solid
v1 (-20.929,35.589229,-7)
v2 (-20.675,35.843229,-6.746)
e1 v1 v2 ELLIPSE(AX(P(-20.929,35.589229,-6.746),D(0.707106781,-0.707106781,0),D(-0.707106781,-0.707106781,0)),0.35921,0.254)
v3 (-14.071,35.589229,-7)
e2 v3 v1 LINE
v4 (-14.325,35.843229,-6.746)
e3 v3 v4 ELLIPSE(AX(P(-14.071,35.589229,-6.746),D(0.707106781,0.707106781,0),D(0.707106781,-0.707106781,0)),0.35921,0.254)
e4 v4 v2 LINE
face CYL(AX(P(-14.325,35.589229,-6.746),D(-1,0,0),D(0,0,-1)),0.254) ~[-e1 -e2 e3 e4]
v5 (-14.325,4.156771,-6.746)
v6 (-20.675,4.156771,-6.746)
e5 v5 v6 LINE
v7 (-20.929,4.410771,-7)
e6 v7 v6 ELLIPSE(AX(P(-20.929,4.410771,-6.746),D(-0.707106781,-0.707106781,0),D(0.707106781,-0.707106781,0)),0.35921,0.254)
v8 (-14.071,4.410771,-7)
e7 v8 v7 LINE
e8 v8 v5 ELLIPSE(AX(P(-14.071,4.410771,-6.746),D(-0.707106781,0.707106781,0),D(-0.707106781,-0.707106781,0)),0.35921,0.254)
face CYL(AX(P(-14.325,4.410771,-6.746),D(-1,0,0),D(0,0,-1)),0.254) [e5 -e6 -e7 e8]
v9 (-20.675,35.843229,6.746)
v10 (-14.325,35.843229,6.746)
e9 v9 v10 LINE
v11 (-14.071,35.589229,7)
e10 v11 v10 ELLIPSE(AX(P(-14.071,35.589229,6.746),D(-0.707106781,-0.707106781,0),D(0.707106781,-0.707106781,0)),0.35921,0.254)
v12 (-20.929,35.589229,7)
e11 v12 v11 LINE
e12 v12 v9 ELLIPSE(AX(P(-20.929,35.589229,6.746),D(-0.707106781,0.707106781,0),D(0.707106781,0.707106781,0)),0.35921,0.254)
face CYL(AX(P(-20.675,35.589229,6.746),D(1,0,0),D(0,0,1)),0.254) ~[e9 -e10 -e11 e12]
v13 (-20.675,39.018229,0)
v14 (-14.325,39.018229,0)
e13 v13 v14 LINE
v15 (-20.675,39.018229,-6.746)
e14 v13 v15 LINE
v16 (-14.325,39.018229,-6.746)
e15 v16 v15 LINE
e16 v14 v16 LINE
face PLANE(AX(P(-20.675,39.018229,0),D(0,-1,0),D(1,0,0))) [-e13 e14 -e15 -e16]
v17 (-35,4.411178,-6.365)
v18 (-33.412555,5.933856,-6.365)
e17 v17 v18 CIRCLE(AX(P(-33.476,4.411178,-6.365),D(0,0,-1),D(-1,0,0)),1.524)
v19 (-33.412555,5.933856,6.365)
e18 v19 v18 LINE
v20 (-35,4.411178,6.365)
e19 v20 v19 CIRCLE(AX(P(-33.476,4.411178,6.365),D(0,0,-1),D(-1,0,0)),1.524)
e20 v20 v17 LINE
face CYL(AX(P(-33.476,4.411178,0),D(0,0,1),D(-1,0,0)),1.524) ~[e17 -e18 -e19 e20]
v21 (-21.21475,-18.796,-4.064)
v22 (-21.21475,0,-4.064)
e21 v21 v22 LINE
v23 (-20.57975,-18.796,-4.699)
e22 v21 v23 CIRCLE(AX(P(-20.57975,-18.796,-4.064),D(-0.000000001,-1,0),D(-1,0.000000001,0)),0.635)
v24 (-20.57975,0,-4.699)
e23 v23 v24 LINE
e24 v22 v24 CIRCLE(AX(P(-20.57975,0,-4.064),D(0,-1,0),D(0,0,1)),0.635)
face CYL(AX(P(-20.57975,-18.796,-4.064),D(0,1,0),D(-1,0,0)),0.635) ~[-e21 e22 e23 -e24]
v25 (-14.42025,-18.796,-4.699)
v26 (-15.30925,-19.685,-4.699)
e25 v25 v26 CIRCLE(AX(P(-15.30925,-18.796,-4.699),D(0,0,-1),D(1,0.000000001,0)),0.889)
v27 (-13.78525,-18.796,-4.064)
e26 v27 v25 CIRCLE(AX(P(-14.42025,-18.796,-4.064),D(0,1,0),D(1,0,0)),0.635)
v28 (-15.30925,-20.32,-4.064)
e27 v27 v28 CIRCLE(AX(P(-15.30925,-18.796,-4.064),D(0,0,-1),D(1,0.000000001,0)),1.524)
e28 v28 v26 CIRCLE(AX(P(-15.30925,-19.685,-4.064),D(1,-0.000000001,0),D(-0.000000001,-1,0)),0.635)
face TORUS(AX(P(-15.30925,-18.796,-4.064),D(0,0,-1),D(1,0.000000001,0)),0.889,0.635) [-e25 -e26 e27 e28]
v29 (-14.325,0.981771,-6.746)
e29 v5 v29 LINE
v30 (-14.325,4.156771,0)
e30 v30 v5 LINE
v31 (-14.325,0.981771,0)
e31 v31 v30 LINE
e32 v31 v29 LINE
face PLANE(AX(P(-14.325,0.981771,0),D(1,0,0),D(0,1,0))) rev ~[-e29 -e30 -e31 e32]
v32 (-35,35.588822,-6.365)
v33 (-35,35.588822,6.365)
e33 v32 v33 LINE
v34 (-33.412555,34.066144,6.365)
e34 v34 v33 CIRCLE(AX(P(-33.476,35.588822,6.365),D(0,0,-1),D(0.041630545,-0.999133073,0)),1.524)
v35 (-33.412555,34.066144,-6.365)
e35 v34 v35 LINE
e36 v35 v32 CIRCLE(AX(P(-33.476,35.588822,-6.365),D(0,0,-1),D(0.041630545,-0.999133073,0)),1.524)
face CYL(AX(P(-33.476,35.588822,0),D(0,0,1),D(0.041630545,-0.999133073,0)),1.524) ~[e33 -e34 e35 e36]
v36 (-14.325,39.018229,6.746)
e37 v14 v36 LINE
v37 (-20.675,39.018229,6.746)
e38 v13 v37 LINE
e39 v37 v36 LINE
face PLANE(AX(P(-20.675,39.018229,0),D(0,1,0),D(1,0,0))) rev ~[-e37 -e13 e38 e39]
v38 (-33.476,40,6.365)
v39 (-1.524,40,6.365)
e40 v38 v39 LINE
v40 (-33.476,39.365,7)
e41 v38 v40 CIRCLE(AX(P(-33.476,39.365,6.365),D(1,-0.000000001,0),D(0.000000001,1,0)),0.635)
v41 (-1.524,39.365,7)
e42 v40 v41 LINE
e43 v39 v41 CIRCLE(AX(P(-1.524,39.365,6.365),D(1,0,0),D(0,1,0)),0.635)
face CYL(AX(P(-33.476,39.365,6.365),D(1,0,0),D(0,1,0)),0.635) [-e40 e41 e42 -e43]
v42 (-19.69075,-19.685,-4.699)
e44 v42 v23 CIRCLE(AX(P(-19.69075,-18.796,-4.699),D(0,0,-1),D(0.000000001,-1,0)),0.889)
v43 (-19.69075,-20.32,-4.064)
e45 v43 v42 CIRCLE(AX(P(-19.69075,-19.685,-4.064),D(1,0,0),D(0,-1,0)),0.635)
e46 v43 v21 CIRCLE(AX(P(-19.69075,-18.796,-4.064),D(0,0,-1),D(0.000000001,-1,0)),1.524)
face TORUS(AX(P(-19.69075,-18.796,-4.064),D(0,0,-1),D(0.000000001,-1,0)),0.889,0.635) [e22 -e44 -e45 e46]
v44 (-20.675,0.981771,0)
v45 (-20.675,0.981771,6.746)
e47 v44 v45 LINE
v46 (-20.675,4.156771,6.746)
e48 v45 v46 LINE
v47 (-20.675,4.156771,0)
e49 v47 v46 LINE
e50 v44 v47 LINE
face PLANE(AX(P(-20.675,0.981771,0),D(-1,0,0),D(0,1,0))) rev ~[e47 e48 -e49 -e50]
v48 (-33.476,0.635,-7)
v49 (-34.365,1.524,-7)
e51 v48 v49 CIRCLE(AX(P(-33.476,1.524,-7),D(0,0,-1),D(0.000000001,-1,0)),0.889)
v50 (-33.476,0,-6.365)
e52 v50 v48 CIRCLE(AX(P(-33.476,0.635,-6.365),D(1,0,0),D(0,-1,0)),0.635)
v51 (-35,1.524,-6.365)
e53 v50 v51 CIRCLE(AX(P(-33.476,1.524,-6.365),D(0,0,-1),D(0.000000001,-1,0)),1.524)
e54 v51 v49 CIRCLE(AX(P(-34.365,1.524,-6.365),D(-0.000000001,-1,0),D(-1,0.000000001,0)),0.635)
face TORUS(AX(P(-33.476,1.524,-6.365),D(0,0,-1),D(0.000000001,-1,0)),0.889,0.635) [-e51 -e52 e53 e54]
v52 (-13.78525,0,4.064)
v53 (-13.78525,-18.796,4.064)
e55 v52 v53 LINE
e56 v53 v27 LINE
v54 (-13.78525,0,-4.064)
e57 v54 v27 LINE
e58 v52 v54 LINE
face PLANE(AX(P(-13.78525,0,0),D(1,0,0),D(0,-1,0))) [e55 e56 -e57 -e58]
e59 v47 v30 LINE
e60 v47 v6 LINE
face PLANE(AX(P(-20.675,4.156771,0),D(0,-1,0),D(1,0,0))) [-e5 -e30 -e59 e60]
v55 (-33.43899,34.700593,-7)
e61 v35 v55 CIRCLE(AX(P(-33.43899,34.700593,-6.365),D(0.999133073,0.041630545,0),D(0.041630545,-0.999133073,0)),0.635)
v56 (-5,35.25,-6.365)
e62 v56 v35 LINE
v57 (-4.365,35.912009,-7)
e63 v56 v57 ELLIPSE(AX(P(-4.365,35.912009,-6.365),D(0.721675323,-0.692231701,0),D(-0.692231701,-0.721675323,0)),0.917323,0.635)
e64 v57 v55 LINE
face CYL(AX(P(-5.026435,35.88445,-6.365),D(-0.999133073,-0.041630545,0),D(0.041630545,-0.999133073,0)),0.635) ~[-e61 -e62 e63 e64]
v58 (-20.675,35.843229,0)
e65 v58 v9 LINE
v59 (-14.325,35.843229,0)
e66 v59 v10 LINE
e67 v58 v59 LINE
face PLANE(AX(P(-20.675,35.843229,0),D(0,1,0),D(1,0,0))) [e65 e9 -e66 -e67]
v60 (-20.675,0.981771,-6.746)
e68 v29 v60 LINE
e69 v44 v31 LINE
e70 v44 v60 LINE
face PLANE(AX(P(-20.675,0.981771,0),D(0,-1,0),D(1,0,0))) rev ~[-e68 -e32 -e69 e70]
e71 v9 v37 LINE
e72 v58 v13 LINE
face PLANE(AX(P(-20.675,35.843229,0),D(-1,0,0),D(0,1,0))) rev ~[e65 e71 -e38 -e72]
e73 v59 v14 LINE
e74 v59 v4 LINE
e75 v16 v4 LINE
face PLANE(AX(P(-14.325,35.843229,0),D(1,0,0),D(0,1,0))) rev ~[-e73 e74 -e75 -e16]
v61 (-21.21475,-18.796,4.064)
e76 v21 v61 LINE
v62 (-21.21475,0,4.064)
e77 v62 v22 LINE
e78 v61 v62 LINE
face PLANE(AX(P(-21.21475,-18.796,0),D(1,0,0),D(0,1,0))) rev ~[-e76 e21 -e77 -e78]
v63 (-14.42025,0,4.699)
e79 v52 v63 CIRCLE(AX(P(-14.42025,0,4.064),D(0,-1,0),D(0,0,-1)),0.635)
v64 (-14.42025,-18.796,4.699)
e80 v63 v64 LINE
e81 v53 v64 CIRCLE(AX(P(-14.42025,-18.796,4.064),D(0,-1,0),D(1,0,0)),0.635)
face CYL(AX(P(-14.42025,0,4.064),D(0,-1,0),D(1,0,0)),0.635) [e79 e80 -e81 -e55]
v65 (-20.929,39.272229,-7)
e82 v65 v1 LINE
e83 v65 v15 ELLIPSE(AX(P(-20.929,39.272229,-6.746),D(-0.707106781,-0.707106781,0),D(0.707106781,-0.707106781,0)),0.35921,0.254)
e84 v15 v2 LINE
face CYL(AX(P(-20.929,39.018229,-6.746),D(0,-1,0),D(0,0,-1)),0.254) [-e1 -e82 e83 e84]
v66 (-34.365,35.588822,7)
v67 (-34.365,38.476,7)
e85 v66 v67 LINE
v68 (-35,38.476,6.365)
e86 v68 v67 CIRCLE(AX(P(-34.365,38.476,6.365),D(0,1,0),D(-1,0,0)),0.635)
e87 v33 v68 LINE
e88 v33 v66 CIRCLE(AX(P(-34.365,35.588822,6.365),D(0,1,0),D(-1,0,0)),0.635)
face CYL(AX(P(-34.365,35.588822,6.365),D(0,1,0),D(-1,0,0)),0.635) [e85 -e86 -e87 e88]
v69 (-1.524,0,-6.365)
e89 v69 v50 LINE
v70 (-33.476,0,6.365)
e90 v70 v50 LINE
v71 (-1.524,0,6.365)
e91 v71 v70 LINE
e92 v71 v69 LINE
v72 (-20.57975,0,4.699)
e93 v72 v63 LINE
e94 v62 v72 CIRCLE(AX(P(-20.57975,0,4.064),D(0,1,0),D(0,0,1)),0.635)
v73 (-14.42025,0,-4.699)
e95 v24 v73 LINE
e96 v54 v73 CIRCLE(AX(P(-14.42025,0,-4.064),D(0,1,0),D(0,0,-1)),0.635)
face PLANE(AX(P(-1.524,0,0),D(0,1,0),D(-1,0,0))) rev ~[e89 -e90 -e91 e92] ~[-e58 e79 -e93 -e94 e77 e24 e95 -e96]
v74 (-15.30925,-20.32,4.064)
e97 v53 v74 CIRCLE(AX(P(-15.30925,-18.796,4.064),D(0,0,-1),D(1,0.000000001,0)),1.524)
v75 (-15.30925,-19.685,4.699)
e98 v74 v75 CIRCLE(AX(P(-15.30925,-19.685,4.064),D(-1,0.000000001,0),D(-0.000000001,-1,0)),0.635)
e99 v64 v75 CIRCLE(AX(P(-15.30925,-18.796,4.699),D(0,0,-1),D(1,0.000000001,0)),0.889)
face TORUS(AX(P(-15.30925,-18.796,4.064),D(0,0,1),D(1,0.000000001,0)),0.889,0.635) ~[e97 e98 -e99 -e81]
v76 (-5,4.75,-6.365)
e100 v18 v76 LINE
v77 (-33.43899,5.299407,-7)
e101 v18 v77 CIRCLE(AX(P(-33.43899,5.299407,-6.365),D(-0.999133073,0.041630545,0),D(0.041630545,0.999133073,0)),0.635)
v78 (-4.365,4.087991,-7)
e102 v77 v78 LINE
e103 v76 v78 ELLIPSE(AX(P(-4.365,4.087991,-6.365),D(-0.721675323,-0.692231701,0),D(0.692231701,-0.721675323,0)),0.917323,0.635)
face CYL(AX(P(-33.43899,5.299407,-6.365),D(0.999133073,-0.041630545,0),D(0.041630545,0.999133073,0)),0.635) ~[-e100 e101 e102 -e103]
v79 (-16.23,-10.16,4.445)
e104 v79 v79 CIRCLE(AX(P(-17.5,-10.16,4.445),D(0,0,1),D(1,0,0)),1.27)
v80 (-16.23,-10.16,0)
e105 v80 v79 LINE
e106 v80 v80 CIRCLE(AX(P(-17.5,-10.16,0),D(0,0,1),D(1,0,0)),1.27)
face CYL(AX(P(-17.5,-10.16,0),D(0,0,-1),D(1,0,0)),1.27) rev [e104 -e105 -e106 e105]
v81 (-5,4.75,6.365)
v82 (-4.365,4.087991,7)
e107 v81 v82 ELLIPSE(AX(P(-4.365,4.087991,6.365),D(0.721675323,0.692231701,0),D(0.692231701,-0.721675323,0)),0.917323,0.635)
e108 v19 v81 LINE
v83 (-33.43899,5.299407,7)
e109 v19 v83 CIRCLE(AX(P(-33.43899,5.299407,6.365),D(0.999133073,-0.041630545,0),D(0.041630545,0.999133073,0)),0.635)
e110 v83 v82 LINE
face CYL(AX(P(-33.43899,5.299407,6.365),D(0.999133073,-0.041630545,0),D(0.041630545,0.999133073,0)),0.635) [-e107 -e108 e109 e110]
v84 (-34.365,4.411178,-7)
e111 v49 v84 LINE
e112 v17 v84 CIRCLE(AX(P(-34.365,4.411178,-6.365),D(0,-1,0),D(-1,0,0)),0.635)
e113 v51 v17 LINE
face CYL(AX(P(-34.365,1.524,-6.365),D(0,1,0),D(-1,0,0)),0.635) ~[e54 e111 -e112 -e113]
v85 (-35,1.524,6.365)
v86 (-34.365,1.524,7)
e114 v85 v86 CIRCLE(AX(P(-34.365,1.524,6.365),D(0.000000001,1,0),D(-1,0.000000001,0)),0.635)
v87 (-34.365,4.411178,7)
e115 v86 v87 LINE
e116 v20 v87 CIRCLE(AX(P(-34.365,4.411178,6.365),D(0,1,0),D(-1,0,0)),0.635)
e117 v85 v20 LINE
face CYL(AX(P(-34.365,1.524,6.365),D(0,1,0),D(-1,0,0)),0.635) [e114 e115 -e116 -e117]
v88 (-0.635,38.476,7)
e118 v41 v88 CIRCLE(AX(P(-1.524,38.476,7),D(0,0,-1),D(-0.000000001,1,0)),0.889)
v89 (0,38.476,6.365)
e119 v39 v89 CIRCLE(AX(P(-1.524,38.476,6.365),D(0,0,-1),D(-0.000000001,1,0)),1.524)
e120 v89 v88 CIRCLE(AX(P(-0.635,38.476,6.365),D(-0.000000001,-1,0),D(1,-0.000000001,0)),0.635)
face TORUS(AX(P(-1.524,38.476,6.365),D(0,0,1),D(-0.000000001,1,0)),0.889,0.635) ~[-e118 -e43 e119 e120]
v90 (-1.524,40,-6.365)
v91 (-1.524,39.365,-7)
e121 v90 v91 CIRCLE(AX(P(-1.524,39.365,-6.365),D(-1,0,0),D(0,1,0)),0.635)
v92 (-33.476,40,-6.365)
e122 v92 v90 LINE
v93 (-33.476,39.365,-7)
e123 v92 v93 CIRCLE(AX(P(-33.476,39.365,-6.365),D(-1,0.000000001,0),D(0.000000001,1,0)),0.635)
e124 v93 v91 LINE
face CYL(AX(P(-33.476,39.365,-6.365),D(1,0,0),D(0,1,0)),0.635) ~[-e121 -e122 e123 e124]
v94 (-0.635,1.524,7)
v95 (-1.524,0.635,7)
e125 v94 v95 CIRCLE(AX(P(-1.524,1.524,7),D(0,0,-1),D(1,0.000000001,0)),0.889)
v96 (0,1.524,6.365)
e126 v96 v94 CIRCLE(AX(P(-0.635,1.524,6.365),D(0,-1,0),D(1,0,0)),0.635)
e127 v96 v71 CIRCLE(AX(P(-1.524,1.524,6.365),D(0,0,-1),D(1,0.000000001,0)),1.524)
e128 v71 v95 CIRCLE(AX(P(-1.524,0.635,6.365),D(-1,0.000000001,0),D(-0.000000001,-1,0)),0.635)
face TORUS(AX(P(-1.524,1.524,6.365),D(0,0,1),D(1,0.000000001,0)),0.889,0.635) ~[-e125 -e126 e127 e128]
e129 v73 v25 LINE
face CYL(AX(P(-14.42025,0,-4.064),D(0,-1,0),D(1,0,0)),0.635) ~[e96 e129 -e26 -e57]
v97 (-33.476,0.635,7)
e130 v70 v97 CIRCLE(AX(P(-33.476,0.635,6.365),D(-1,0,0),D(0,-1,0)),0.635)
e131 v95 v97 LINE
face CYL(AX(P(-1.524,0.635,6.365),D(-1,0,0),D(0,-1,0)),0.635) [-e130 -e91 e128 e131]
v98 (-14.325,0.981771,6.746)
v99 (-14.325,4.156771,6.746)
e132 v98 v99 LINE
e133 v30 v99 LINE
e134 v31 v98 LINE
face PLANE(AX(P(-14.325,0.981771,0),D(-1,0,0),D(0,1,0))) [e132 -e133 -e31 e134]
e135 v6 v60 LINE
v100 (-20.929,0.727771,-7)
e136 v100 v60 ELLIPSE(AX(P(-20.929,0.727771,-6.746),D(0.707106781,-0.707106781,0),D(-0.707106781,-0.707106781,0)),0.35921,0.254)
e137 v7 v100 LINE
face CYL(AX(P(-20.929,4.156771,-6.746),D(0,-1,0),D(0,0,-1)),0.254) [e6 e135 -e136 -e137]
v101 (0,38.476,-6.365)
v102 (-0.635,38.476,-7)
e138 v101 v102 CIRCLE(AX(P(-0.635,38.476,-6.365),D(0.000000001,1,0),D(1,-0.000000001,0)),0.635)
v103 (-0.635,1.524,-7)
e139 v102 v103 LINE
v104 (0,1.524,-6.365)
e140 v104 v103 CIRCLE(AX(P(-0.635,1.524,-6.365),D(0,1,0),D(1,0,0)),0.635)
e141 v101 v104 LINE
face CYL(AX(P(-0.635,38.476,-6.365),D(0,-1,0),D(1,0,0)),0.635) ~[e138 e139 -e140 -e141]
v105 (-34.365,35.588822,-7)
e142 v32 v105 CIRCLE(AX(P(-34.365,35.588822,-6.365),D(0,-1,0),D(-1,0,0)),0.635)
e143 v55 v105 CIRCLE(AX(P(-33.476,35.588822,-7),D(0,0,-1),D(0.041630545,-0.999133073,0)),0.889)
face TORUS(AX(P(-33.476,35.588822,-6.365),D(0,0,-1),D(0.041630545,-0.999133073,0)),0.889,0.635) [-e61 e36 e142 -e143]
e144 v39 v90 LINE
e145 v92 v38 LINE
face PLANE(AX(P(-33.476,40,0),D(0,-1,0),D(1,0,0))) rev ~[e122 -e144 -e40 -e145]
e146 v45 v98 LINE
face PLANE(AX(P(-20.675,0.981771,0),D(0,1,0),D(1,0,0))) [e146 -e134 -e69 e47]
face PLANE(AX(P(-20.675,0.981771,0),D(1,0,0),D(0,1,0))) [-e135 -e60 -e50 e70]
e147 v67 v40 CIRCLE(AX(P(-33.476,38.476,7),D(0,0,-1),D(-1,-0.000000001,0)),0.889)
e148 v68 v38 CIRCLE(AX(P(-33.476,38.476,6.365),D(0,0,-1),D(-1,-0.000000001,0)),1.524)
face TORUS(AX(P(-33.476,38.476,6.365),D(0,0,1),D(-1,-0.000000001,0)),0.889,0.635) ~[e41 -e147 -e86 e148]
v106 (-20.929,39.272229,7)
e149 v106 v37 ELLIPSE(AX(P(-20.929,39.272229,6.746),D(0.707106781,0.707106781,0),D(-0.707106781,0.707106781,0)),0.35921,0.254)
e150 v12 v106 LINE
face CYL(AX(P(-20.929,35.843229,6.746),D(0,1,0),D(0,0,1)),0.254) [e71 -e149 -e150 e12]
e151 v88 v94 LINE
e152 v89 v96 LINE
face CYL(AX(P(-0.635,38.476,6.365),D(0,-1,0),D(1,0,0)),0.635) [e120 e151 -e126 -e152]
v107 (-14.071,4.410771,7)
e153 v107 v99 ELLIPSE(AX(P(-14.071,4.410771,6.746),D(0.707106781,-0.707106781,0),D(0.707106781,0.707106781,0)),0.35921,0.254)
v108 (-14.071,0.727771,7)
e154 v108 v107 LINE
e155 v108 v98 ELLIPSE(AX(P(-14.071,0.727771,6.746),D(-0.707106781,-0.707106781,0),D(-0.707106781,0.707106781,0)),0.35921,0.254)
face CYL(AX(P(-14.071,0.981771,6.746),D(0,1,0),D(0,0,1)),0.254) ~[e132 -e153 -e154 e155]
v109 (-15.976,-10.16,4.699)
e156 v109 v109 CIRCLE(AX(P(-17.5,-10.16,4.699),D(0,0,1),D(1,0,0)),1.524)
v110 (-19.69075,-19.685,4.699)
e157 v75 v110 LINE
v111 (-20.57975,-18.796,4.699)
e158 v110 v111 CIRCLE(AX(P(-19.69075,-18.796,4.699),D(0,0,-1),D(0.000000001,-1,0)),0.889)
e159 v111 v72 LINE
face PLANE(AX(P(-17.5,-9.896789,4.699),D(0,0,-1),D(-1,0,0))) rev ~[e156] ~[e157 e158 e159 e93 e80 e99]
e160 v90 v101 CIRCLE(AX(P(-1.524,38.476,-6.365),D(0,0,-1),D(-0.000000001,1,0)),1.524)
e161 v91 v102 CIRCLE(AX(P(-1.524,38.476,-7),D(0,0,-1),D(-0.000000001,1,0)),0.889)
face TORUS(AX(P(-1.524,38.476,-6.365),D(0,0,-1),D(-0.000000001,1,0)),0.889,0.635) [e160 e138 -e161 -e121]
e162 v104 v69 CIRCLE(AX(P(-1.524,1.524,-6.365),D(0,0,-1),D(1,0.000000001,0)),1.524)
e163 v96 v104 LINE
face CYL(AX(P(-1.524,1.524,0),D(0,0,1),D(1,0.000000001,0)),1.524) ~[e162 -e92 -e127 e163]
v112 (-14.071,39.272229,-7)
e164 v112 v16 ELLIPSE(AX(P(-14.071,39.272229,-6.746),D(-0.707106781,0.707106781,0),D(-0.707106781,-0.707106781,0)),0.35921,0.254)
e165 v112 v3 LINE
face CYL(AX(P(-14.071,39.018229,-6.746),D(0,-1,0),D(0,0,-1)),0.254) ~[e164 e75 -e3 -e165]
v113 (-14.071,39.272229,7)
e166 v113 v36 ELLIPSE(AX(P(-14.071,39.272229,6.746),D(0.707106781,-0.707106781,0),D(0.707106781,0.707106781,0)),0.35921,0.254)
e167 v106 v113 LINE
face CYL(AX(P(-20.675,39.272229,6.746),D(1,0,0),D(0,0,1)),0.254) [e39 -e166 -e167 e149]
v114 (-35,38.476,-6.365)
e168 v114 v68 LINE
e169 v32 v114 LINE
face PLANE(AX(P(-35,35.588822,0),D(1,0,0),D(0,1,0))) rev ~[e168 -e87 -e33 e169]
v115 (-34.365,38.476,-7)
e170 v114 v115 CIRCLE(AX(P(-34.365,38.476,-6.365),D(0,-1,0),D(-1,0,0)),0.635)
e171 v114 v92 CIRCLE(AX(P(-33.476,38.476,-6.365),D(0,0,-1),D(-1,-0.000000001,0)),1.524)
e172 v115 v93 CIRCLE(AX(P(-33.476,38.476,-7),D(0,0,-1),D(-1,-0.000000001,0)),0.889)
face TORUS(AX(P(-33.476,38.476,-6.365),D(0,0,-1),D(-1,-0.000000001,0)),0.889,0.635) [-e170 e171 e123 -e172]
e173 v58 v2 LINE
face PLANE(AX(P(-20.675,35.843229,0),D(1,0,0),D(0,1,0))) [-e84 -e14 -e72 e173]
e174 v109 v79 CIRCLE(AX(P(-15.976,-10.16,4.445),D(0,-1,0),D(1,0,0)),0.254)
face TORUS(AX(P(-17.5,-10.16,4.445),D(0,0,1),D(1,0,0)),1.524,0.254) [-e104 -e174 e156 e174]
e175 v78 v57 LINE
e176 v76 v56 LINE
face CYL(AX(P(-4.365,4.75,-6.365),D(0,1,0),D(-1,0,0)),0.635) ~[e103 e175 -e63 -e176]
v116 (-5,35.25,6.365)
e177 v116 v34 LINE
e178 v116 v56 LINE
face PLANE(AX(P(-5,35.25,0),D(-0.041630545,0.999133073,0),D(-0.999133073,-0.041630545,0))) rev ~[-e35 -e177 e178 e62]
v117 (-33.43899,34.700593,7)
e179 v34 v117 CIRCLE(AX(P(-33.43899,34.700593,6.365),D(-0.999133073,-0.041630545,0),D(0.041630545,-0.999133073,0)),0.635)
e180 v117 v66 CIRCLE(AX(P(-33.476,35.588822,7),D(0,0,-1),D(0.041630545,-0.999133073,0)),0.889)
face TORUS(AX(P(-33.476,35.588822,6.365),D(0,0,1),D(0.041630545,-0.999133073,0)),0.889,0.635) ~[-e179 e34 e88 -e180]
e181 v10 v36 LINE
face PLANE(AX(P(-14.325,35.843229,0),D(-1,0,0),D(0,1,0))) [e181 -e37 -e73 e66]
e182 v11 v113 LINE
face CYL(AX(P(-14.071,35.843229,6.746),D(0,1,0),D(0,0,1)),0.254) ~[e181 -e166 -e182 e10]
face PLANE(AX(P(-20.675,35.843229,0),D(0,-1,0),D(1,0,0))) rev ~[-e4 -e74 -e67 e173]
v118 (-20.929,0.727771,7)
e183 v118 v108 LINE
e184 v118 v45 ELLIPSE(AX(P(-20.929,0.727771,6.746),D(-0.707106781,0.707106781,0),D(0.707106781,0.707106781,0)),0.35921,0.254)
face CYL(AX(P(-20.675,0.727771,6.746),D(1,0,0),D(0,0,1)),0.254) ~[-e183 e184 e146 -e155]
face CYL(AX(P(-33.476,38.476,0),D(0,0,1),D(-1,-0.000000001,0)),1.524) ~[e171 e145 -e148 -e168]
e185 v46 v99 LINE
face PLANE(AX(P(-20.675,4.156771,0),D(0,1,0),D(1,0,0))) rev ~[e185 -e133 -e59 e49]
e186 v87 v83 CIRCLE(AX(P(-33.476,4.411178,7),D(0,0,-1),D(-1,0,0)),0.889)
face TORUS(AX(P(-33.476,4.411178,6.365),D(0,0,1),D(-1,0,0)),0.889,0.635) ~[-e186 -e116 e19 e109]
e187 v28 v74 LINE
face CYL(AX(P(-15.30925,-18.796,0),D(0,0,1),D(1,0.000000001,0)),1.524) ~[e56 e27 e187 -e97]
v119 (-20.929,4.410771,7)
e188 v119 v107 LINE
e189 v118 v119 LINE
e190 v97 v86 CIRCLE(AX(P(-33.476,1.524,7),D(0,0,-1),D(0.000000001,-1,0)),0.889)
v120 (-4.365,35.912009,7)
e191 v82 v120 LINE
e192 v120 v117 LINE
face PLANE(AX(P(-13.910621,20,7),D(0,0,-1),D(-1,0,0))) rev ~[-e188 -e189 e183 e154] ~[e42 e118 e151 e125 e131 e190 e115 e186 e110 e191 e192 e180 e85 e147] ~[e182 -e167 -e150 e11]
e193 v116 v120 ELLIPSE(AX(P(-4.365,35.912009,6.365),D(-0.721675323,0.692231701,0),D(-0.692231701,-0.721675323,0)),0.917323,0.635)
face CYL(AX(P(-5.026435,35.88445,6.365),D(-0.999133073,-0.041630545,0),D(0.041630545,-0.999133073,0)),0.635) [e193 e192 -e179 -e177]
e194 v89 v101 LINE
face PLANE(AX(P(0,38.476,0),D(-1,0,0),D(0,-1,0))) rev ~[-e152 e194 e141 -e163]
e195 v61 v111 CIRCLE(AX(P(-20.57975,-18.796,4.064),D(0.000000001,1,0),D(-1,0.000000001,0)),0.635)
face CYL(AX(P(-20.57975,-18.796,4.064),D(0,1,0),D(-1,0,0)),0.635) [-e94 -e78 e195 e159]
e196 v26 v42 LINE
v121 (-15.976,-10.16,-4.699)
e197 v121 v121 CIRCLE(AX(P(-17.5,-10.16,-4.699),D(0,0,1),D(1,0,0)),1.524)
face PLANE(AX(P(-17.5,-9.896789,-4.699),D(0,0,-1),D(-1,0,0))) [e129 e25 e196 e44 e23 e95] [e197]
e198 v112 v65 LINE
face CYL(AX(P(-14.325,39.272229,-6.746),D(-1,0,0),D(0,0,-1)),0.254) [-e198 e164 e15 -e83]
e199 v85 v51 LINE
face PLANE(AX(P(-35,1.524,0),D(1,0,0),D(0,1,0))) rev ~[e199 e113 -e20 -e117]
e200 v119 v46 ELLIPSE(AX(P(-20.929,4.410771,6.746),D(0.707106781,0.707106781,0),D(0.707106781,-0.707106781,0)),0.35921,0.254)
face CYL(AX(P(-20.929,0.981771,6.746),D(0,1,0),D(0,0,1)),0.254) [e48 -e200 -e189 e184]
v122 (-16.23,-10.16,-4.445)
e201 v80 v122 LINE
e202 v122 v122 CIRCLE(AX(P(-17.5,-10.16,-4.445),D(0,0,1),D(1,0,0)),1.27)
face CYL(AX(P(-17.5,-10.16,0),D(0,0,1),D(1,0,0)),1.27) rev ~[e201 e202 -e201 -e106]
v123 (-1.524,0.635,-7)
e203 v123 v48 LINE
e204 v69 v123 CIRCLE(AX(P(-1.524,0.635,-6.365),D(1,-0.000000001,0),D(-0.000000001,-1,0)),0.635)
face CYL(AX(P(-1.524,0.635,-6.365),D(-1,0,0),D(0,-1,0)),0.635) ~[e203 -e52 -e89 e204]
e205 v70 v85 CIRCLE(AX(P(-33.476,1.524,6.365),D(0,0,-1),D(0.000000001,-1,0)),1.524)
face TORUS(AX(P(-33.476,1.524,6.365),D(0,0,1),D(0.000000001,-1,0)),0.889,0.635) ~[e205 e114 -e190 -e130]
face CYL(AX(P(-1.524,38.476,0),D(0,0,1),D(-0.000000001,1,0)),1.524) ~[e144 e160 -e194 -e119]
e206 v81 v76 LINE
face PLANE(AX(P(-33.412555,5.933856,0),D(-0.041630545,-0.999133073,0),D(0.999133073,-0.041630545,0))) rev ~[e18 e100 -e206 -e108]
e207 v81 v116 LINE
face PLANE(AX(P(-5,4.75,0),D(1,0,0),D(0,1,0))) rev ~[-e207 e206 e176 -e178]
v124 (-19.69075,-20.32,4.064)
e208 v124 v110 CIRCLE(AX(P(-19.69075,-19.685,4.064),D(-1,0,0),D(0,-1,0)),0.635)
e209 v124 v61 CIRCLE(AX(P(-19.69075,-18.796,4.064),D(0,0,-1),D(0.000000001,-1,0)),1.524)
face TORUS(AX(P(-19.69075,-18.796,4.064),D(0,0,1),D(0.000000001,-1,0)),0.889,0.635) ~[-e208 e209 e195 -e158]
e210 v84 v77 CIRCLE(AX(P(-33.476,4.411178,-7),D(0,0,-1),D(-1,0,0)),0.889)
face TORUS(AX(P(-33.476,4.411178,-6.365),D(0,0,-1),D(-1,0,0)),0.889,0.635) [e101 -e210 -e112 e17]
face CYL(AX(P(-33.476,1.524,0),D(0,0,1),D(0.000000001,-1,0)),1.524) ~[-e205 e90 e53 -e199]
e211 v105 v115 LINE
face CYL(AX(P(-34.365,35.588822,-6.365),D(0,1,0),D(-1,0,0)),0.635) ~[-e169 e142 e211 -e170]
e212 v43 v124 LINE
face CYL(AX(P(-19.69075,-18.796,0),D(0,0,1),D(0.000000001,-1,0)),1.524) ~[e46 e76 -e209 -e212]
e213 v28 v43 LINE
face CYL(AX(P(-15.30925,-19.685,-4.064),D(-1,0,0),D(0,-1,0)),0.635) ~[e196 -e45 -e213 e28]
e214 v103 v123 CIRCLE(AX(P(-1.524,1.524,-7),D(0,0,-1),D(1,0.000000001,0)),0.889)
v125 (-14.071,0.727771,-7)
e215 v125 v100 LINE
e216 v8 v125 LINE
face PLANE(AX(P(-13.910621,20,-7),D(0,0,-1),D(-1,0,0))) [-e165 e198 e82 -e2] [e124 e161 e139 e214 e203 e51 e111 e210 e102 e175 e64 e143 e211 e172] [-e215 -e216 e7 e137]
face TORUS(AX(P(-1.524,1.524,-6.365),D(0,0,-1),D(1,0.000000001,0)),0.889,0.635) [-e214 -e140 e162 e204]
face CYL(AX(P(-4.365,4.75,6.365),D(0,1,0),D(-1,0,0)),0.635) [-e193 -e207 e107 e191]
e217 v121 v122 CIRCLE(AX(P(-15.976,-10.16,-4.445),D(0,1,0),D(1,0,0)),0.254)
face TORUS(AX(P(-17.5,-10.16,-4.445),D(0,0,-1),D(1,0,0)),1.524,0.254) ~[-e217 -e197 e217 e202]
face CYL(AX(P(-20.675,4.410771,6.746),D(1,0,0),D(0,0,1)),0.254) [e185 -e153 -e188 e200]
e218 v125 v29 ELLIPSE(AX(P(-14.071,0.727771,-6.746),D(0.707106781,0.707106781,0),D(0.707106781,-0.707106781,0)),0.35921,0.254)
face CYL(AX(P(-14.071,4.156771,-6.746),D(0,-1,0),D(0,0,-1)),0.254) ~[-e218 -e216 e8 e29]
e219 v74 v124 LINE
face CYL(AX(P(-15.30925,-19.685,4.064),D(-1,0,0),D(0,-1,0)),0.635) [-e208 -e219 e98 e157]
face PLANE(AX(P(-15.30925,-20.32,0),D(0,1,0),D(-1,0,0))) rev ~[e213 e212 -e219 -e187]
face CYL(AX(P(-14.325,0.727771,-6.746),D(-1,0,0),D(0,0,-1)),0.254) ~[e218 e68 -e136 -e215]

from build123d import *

# Parameters (mm, degrees)
BOSS_EXTRUDE1_DEPTH      = 7
BOSS_EXTRUDE1_DEPTH_BACK = 7
SKETCH2_R                = 1.27
BOSS_EXTRUDE2_DEPTH      = 4.699
BOSS_EXTRUDE2_DEPTH_BACK = 4.699
FILLET2_R                = 0.635
SKETCH3_W                = 6.35
SKETCH3_H                = 3.175
CUT_EXTRUDE1_DEPTH       = 8.0000001
CUT_EXTRUDE1_DEPTH_BACK  = 8.0000001
FILLET3_R                = 0.254


with BuildPart() as part:
    # Sketch1 → Boss-Extrude1 (new body, two sides)
    with BuildSketch(Plane.XY) as boss_extrude1_sk:
        with BuildLine():
            Line((-33.476, 40), (-1.524, 40))
            ThreePointArc((-1.524, 40), (-0.446369265, 39.553630735), (0, 38.476))
            Line((0, 38.476), (0, 1.524))
            ThreePointArc((0, 1.524), (-0.446369265, 0.446369265), (-1.524, 0))
            Line((-1.524, 0), (-33.476, 0))
            ThreePointArc((-33.476, 0), (-34.553630735, 0.446369265), (-35, 1.524))
            Line((-35, 1.524), (-35, 4.411177657))
            ThreePointArc((-35, 4.411177657), (-34.530961112, 5.51101085), (-33.41255505, 5.93385646))
            Line((-33.41255505, 5.93385646), (-5, 4.75))
            Line((-5, 4.75), (-5, 35.25))
            Line((-5, 35.25), (-33.41255505, 34.06614354))
            ThreePointArc((-33.41255505, 34.06614354), (-34.530961112, 34.48898915), (-35, 35.588822343))
            Line((-35, 35.588822343), (-35, 38.476))
            ThreePointArc((-35, 38.476), (-34.553630735, 39.553630735), (-33.476, 40))
        make_face()
    extrude(amount=BOSS_EXTRUDE1_DEPTH)
    extrude(boss_extrude1_sk.sketch, amount=-BOSS_EXTRUDE1_DEPTH_BACK)

    # Sketch2 → Boss-Extrude2 (add, two sides)
    with BuildSketch(Plane.XY) as boss_extrude2_sk:
        with BuildLine():
            Line((-21.21475, 0), (-13.78525, 0))
            Line((-13.78525, 0), (-13.78525, -18.796))
            ThreePointArc((-13.78525, -18.796), (-14.231619265, -19.873630735), (-15.30925, -20.32))
            Line((-15.30925, -20.32), (-19.69075, -20.32))
            ThreePointArc((-19.69075, -20.32), (-20.768380735, -19.873630735), (-21.21475, -18.796))
            Line((-21.21475, -18.796), (-21.21475, 0))
        make_face()
        with Locations((-17.5, -10.16)):
            Circle(SKETCH2_R, mode=Mode.SUBTRACT)
    extrude(amount=BOSS_EXTRUDE2_DEPTH)
    extrude(boss_extrude2_sk.sketch, amount=-BOSS_EXTRUDE2_DEPTH_BACK)

    # Fillet2
    fillet2_edges = [part.edges().sort_by_distance(p)[0] for p in [
        (-35, 37.032411171, -7),
        (-34.530961112, 34.48898915, -7),
        (-19.206277525, 34.65807177, -7),
        (-5, 20, -7),
        (-19.206277525, 5.34192823, -7),
        (-34.530961112, 5.51101085, -7),
        (-17.5, 40, 7),
        (-34.530961112, 34.48898915, 7),
        (-19.206277525, 34.65807177, 7),
        (-35, 2.967588829, -7),
        (-34.553630735, 0.446369265, -7),
        (-34.553630735, 39.553630735, 7),
        (-35, 37.032411171, 7),
        (-5, 20, 7),
        (-19.206277525, 5.34192823, 7),
        (-34.530961112, 5.51101085, 7),
        (-35, 2.967588829, 7),
        (-34.553630735, 0.446369265, 7),
        (-17.5, 0, 7),
        (-17.5, 0, -7),
        (-0.446369265, 0.446369265, 7),
        (0, 20, 7),
        (-0.446369265, 39.553630735, 7),
        (-17.5, 40, -7),
        (-0.446369265, 0.446369265, -7),
        (0, 20, -7),
        (-0.446369265, 39.553630735, -7),
        (-21.21475, -9.398, -4.699),
        (-13.78525, -9.398, -4.699),
        (-14.231619265, -19.873630735, -4.699),
        (-17.5, -20.32, -4.699),
        (-20.768380735, -19.873630735, -4.699),
        (-21.21475, -9.398, 4.699),
        (-20.768380735, -19.873630735, 4.699),
        (-17.5, -20.32, 4.699),
        (-14.231619265, -19.873630735, 4.699),
        (-13.78525, -9.398, 4.699),
        (-34.553630735, 39.553630735, -7),
    ]]
    fillet(fillet2_edges, radius=FILLET2_R)

    # Sketch3 → Cut-Extrude1 (cut, two sides)
    with BuildSketch(Plane.XY) as cut_extrude1_sk:
        with Locations((-17.5, 2.569270833)):
            Rectangle(SKETCH3_W, SKETCH3_H)
        with Locations((-17.5, 37.430729167)):
            Rectangle(SKETCH3_W, SKETCH3_H)
    extrude(amount=CUT_EXTRUDE1_DEPTH, mode=Mode.SUBTRACT)
    extrude(cut_extrude1_sk.sketch, amount=-CUT_EXTRUDE1_DEPTH_BACK, mode=Mode.SUBTRACT)

    # Fillet3
    fillet3_edges = [part.edges().sort_by_distance(p)[0] for p in [
        (-14.325, 2.569270833, -7),
        (-17.5, 0.981770833, -7),
        (-20.675, 2.569270833, -7),
        (-17.5, 4.156770833, -7),
        (-14.325, 2.569270833, 7),
        (-17.5, 4.156770833, 7),
        (-20.675, 2.569270833, 7),
        (-17.5, 0.981770833, 7),
        (-20.675, 37.430729167, -7),
        (-17.5, 39.018229167, -7),
        (-14.325, 37.430729167, -7),
        (-17.5, 35.843229167, -7),
        (-20.675, 37.430729167, 7),
        (-17.5, 35.843229167, 7),
        (-14.325, 37.430729167, 7),
        (-17.5, 39.018229167, 7),
        (-18.77, -10.16, -4.699),
        (-18.77, -10.16, 4.699),
    ]]
    fillet(fillet3_edges, radius=FILLET3_R)


solid = part.part
